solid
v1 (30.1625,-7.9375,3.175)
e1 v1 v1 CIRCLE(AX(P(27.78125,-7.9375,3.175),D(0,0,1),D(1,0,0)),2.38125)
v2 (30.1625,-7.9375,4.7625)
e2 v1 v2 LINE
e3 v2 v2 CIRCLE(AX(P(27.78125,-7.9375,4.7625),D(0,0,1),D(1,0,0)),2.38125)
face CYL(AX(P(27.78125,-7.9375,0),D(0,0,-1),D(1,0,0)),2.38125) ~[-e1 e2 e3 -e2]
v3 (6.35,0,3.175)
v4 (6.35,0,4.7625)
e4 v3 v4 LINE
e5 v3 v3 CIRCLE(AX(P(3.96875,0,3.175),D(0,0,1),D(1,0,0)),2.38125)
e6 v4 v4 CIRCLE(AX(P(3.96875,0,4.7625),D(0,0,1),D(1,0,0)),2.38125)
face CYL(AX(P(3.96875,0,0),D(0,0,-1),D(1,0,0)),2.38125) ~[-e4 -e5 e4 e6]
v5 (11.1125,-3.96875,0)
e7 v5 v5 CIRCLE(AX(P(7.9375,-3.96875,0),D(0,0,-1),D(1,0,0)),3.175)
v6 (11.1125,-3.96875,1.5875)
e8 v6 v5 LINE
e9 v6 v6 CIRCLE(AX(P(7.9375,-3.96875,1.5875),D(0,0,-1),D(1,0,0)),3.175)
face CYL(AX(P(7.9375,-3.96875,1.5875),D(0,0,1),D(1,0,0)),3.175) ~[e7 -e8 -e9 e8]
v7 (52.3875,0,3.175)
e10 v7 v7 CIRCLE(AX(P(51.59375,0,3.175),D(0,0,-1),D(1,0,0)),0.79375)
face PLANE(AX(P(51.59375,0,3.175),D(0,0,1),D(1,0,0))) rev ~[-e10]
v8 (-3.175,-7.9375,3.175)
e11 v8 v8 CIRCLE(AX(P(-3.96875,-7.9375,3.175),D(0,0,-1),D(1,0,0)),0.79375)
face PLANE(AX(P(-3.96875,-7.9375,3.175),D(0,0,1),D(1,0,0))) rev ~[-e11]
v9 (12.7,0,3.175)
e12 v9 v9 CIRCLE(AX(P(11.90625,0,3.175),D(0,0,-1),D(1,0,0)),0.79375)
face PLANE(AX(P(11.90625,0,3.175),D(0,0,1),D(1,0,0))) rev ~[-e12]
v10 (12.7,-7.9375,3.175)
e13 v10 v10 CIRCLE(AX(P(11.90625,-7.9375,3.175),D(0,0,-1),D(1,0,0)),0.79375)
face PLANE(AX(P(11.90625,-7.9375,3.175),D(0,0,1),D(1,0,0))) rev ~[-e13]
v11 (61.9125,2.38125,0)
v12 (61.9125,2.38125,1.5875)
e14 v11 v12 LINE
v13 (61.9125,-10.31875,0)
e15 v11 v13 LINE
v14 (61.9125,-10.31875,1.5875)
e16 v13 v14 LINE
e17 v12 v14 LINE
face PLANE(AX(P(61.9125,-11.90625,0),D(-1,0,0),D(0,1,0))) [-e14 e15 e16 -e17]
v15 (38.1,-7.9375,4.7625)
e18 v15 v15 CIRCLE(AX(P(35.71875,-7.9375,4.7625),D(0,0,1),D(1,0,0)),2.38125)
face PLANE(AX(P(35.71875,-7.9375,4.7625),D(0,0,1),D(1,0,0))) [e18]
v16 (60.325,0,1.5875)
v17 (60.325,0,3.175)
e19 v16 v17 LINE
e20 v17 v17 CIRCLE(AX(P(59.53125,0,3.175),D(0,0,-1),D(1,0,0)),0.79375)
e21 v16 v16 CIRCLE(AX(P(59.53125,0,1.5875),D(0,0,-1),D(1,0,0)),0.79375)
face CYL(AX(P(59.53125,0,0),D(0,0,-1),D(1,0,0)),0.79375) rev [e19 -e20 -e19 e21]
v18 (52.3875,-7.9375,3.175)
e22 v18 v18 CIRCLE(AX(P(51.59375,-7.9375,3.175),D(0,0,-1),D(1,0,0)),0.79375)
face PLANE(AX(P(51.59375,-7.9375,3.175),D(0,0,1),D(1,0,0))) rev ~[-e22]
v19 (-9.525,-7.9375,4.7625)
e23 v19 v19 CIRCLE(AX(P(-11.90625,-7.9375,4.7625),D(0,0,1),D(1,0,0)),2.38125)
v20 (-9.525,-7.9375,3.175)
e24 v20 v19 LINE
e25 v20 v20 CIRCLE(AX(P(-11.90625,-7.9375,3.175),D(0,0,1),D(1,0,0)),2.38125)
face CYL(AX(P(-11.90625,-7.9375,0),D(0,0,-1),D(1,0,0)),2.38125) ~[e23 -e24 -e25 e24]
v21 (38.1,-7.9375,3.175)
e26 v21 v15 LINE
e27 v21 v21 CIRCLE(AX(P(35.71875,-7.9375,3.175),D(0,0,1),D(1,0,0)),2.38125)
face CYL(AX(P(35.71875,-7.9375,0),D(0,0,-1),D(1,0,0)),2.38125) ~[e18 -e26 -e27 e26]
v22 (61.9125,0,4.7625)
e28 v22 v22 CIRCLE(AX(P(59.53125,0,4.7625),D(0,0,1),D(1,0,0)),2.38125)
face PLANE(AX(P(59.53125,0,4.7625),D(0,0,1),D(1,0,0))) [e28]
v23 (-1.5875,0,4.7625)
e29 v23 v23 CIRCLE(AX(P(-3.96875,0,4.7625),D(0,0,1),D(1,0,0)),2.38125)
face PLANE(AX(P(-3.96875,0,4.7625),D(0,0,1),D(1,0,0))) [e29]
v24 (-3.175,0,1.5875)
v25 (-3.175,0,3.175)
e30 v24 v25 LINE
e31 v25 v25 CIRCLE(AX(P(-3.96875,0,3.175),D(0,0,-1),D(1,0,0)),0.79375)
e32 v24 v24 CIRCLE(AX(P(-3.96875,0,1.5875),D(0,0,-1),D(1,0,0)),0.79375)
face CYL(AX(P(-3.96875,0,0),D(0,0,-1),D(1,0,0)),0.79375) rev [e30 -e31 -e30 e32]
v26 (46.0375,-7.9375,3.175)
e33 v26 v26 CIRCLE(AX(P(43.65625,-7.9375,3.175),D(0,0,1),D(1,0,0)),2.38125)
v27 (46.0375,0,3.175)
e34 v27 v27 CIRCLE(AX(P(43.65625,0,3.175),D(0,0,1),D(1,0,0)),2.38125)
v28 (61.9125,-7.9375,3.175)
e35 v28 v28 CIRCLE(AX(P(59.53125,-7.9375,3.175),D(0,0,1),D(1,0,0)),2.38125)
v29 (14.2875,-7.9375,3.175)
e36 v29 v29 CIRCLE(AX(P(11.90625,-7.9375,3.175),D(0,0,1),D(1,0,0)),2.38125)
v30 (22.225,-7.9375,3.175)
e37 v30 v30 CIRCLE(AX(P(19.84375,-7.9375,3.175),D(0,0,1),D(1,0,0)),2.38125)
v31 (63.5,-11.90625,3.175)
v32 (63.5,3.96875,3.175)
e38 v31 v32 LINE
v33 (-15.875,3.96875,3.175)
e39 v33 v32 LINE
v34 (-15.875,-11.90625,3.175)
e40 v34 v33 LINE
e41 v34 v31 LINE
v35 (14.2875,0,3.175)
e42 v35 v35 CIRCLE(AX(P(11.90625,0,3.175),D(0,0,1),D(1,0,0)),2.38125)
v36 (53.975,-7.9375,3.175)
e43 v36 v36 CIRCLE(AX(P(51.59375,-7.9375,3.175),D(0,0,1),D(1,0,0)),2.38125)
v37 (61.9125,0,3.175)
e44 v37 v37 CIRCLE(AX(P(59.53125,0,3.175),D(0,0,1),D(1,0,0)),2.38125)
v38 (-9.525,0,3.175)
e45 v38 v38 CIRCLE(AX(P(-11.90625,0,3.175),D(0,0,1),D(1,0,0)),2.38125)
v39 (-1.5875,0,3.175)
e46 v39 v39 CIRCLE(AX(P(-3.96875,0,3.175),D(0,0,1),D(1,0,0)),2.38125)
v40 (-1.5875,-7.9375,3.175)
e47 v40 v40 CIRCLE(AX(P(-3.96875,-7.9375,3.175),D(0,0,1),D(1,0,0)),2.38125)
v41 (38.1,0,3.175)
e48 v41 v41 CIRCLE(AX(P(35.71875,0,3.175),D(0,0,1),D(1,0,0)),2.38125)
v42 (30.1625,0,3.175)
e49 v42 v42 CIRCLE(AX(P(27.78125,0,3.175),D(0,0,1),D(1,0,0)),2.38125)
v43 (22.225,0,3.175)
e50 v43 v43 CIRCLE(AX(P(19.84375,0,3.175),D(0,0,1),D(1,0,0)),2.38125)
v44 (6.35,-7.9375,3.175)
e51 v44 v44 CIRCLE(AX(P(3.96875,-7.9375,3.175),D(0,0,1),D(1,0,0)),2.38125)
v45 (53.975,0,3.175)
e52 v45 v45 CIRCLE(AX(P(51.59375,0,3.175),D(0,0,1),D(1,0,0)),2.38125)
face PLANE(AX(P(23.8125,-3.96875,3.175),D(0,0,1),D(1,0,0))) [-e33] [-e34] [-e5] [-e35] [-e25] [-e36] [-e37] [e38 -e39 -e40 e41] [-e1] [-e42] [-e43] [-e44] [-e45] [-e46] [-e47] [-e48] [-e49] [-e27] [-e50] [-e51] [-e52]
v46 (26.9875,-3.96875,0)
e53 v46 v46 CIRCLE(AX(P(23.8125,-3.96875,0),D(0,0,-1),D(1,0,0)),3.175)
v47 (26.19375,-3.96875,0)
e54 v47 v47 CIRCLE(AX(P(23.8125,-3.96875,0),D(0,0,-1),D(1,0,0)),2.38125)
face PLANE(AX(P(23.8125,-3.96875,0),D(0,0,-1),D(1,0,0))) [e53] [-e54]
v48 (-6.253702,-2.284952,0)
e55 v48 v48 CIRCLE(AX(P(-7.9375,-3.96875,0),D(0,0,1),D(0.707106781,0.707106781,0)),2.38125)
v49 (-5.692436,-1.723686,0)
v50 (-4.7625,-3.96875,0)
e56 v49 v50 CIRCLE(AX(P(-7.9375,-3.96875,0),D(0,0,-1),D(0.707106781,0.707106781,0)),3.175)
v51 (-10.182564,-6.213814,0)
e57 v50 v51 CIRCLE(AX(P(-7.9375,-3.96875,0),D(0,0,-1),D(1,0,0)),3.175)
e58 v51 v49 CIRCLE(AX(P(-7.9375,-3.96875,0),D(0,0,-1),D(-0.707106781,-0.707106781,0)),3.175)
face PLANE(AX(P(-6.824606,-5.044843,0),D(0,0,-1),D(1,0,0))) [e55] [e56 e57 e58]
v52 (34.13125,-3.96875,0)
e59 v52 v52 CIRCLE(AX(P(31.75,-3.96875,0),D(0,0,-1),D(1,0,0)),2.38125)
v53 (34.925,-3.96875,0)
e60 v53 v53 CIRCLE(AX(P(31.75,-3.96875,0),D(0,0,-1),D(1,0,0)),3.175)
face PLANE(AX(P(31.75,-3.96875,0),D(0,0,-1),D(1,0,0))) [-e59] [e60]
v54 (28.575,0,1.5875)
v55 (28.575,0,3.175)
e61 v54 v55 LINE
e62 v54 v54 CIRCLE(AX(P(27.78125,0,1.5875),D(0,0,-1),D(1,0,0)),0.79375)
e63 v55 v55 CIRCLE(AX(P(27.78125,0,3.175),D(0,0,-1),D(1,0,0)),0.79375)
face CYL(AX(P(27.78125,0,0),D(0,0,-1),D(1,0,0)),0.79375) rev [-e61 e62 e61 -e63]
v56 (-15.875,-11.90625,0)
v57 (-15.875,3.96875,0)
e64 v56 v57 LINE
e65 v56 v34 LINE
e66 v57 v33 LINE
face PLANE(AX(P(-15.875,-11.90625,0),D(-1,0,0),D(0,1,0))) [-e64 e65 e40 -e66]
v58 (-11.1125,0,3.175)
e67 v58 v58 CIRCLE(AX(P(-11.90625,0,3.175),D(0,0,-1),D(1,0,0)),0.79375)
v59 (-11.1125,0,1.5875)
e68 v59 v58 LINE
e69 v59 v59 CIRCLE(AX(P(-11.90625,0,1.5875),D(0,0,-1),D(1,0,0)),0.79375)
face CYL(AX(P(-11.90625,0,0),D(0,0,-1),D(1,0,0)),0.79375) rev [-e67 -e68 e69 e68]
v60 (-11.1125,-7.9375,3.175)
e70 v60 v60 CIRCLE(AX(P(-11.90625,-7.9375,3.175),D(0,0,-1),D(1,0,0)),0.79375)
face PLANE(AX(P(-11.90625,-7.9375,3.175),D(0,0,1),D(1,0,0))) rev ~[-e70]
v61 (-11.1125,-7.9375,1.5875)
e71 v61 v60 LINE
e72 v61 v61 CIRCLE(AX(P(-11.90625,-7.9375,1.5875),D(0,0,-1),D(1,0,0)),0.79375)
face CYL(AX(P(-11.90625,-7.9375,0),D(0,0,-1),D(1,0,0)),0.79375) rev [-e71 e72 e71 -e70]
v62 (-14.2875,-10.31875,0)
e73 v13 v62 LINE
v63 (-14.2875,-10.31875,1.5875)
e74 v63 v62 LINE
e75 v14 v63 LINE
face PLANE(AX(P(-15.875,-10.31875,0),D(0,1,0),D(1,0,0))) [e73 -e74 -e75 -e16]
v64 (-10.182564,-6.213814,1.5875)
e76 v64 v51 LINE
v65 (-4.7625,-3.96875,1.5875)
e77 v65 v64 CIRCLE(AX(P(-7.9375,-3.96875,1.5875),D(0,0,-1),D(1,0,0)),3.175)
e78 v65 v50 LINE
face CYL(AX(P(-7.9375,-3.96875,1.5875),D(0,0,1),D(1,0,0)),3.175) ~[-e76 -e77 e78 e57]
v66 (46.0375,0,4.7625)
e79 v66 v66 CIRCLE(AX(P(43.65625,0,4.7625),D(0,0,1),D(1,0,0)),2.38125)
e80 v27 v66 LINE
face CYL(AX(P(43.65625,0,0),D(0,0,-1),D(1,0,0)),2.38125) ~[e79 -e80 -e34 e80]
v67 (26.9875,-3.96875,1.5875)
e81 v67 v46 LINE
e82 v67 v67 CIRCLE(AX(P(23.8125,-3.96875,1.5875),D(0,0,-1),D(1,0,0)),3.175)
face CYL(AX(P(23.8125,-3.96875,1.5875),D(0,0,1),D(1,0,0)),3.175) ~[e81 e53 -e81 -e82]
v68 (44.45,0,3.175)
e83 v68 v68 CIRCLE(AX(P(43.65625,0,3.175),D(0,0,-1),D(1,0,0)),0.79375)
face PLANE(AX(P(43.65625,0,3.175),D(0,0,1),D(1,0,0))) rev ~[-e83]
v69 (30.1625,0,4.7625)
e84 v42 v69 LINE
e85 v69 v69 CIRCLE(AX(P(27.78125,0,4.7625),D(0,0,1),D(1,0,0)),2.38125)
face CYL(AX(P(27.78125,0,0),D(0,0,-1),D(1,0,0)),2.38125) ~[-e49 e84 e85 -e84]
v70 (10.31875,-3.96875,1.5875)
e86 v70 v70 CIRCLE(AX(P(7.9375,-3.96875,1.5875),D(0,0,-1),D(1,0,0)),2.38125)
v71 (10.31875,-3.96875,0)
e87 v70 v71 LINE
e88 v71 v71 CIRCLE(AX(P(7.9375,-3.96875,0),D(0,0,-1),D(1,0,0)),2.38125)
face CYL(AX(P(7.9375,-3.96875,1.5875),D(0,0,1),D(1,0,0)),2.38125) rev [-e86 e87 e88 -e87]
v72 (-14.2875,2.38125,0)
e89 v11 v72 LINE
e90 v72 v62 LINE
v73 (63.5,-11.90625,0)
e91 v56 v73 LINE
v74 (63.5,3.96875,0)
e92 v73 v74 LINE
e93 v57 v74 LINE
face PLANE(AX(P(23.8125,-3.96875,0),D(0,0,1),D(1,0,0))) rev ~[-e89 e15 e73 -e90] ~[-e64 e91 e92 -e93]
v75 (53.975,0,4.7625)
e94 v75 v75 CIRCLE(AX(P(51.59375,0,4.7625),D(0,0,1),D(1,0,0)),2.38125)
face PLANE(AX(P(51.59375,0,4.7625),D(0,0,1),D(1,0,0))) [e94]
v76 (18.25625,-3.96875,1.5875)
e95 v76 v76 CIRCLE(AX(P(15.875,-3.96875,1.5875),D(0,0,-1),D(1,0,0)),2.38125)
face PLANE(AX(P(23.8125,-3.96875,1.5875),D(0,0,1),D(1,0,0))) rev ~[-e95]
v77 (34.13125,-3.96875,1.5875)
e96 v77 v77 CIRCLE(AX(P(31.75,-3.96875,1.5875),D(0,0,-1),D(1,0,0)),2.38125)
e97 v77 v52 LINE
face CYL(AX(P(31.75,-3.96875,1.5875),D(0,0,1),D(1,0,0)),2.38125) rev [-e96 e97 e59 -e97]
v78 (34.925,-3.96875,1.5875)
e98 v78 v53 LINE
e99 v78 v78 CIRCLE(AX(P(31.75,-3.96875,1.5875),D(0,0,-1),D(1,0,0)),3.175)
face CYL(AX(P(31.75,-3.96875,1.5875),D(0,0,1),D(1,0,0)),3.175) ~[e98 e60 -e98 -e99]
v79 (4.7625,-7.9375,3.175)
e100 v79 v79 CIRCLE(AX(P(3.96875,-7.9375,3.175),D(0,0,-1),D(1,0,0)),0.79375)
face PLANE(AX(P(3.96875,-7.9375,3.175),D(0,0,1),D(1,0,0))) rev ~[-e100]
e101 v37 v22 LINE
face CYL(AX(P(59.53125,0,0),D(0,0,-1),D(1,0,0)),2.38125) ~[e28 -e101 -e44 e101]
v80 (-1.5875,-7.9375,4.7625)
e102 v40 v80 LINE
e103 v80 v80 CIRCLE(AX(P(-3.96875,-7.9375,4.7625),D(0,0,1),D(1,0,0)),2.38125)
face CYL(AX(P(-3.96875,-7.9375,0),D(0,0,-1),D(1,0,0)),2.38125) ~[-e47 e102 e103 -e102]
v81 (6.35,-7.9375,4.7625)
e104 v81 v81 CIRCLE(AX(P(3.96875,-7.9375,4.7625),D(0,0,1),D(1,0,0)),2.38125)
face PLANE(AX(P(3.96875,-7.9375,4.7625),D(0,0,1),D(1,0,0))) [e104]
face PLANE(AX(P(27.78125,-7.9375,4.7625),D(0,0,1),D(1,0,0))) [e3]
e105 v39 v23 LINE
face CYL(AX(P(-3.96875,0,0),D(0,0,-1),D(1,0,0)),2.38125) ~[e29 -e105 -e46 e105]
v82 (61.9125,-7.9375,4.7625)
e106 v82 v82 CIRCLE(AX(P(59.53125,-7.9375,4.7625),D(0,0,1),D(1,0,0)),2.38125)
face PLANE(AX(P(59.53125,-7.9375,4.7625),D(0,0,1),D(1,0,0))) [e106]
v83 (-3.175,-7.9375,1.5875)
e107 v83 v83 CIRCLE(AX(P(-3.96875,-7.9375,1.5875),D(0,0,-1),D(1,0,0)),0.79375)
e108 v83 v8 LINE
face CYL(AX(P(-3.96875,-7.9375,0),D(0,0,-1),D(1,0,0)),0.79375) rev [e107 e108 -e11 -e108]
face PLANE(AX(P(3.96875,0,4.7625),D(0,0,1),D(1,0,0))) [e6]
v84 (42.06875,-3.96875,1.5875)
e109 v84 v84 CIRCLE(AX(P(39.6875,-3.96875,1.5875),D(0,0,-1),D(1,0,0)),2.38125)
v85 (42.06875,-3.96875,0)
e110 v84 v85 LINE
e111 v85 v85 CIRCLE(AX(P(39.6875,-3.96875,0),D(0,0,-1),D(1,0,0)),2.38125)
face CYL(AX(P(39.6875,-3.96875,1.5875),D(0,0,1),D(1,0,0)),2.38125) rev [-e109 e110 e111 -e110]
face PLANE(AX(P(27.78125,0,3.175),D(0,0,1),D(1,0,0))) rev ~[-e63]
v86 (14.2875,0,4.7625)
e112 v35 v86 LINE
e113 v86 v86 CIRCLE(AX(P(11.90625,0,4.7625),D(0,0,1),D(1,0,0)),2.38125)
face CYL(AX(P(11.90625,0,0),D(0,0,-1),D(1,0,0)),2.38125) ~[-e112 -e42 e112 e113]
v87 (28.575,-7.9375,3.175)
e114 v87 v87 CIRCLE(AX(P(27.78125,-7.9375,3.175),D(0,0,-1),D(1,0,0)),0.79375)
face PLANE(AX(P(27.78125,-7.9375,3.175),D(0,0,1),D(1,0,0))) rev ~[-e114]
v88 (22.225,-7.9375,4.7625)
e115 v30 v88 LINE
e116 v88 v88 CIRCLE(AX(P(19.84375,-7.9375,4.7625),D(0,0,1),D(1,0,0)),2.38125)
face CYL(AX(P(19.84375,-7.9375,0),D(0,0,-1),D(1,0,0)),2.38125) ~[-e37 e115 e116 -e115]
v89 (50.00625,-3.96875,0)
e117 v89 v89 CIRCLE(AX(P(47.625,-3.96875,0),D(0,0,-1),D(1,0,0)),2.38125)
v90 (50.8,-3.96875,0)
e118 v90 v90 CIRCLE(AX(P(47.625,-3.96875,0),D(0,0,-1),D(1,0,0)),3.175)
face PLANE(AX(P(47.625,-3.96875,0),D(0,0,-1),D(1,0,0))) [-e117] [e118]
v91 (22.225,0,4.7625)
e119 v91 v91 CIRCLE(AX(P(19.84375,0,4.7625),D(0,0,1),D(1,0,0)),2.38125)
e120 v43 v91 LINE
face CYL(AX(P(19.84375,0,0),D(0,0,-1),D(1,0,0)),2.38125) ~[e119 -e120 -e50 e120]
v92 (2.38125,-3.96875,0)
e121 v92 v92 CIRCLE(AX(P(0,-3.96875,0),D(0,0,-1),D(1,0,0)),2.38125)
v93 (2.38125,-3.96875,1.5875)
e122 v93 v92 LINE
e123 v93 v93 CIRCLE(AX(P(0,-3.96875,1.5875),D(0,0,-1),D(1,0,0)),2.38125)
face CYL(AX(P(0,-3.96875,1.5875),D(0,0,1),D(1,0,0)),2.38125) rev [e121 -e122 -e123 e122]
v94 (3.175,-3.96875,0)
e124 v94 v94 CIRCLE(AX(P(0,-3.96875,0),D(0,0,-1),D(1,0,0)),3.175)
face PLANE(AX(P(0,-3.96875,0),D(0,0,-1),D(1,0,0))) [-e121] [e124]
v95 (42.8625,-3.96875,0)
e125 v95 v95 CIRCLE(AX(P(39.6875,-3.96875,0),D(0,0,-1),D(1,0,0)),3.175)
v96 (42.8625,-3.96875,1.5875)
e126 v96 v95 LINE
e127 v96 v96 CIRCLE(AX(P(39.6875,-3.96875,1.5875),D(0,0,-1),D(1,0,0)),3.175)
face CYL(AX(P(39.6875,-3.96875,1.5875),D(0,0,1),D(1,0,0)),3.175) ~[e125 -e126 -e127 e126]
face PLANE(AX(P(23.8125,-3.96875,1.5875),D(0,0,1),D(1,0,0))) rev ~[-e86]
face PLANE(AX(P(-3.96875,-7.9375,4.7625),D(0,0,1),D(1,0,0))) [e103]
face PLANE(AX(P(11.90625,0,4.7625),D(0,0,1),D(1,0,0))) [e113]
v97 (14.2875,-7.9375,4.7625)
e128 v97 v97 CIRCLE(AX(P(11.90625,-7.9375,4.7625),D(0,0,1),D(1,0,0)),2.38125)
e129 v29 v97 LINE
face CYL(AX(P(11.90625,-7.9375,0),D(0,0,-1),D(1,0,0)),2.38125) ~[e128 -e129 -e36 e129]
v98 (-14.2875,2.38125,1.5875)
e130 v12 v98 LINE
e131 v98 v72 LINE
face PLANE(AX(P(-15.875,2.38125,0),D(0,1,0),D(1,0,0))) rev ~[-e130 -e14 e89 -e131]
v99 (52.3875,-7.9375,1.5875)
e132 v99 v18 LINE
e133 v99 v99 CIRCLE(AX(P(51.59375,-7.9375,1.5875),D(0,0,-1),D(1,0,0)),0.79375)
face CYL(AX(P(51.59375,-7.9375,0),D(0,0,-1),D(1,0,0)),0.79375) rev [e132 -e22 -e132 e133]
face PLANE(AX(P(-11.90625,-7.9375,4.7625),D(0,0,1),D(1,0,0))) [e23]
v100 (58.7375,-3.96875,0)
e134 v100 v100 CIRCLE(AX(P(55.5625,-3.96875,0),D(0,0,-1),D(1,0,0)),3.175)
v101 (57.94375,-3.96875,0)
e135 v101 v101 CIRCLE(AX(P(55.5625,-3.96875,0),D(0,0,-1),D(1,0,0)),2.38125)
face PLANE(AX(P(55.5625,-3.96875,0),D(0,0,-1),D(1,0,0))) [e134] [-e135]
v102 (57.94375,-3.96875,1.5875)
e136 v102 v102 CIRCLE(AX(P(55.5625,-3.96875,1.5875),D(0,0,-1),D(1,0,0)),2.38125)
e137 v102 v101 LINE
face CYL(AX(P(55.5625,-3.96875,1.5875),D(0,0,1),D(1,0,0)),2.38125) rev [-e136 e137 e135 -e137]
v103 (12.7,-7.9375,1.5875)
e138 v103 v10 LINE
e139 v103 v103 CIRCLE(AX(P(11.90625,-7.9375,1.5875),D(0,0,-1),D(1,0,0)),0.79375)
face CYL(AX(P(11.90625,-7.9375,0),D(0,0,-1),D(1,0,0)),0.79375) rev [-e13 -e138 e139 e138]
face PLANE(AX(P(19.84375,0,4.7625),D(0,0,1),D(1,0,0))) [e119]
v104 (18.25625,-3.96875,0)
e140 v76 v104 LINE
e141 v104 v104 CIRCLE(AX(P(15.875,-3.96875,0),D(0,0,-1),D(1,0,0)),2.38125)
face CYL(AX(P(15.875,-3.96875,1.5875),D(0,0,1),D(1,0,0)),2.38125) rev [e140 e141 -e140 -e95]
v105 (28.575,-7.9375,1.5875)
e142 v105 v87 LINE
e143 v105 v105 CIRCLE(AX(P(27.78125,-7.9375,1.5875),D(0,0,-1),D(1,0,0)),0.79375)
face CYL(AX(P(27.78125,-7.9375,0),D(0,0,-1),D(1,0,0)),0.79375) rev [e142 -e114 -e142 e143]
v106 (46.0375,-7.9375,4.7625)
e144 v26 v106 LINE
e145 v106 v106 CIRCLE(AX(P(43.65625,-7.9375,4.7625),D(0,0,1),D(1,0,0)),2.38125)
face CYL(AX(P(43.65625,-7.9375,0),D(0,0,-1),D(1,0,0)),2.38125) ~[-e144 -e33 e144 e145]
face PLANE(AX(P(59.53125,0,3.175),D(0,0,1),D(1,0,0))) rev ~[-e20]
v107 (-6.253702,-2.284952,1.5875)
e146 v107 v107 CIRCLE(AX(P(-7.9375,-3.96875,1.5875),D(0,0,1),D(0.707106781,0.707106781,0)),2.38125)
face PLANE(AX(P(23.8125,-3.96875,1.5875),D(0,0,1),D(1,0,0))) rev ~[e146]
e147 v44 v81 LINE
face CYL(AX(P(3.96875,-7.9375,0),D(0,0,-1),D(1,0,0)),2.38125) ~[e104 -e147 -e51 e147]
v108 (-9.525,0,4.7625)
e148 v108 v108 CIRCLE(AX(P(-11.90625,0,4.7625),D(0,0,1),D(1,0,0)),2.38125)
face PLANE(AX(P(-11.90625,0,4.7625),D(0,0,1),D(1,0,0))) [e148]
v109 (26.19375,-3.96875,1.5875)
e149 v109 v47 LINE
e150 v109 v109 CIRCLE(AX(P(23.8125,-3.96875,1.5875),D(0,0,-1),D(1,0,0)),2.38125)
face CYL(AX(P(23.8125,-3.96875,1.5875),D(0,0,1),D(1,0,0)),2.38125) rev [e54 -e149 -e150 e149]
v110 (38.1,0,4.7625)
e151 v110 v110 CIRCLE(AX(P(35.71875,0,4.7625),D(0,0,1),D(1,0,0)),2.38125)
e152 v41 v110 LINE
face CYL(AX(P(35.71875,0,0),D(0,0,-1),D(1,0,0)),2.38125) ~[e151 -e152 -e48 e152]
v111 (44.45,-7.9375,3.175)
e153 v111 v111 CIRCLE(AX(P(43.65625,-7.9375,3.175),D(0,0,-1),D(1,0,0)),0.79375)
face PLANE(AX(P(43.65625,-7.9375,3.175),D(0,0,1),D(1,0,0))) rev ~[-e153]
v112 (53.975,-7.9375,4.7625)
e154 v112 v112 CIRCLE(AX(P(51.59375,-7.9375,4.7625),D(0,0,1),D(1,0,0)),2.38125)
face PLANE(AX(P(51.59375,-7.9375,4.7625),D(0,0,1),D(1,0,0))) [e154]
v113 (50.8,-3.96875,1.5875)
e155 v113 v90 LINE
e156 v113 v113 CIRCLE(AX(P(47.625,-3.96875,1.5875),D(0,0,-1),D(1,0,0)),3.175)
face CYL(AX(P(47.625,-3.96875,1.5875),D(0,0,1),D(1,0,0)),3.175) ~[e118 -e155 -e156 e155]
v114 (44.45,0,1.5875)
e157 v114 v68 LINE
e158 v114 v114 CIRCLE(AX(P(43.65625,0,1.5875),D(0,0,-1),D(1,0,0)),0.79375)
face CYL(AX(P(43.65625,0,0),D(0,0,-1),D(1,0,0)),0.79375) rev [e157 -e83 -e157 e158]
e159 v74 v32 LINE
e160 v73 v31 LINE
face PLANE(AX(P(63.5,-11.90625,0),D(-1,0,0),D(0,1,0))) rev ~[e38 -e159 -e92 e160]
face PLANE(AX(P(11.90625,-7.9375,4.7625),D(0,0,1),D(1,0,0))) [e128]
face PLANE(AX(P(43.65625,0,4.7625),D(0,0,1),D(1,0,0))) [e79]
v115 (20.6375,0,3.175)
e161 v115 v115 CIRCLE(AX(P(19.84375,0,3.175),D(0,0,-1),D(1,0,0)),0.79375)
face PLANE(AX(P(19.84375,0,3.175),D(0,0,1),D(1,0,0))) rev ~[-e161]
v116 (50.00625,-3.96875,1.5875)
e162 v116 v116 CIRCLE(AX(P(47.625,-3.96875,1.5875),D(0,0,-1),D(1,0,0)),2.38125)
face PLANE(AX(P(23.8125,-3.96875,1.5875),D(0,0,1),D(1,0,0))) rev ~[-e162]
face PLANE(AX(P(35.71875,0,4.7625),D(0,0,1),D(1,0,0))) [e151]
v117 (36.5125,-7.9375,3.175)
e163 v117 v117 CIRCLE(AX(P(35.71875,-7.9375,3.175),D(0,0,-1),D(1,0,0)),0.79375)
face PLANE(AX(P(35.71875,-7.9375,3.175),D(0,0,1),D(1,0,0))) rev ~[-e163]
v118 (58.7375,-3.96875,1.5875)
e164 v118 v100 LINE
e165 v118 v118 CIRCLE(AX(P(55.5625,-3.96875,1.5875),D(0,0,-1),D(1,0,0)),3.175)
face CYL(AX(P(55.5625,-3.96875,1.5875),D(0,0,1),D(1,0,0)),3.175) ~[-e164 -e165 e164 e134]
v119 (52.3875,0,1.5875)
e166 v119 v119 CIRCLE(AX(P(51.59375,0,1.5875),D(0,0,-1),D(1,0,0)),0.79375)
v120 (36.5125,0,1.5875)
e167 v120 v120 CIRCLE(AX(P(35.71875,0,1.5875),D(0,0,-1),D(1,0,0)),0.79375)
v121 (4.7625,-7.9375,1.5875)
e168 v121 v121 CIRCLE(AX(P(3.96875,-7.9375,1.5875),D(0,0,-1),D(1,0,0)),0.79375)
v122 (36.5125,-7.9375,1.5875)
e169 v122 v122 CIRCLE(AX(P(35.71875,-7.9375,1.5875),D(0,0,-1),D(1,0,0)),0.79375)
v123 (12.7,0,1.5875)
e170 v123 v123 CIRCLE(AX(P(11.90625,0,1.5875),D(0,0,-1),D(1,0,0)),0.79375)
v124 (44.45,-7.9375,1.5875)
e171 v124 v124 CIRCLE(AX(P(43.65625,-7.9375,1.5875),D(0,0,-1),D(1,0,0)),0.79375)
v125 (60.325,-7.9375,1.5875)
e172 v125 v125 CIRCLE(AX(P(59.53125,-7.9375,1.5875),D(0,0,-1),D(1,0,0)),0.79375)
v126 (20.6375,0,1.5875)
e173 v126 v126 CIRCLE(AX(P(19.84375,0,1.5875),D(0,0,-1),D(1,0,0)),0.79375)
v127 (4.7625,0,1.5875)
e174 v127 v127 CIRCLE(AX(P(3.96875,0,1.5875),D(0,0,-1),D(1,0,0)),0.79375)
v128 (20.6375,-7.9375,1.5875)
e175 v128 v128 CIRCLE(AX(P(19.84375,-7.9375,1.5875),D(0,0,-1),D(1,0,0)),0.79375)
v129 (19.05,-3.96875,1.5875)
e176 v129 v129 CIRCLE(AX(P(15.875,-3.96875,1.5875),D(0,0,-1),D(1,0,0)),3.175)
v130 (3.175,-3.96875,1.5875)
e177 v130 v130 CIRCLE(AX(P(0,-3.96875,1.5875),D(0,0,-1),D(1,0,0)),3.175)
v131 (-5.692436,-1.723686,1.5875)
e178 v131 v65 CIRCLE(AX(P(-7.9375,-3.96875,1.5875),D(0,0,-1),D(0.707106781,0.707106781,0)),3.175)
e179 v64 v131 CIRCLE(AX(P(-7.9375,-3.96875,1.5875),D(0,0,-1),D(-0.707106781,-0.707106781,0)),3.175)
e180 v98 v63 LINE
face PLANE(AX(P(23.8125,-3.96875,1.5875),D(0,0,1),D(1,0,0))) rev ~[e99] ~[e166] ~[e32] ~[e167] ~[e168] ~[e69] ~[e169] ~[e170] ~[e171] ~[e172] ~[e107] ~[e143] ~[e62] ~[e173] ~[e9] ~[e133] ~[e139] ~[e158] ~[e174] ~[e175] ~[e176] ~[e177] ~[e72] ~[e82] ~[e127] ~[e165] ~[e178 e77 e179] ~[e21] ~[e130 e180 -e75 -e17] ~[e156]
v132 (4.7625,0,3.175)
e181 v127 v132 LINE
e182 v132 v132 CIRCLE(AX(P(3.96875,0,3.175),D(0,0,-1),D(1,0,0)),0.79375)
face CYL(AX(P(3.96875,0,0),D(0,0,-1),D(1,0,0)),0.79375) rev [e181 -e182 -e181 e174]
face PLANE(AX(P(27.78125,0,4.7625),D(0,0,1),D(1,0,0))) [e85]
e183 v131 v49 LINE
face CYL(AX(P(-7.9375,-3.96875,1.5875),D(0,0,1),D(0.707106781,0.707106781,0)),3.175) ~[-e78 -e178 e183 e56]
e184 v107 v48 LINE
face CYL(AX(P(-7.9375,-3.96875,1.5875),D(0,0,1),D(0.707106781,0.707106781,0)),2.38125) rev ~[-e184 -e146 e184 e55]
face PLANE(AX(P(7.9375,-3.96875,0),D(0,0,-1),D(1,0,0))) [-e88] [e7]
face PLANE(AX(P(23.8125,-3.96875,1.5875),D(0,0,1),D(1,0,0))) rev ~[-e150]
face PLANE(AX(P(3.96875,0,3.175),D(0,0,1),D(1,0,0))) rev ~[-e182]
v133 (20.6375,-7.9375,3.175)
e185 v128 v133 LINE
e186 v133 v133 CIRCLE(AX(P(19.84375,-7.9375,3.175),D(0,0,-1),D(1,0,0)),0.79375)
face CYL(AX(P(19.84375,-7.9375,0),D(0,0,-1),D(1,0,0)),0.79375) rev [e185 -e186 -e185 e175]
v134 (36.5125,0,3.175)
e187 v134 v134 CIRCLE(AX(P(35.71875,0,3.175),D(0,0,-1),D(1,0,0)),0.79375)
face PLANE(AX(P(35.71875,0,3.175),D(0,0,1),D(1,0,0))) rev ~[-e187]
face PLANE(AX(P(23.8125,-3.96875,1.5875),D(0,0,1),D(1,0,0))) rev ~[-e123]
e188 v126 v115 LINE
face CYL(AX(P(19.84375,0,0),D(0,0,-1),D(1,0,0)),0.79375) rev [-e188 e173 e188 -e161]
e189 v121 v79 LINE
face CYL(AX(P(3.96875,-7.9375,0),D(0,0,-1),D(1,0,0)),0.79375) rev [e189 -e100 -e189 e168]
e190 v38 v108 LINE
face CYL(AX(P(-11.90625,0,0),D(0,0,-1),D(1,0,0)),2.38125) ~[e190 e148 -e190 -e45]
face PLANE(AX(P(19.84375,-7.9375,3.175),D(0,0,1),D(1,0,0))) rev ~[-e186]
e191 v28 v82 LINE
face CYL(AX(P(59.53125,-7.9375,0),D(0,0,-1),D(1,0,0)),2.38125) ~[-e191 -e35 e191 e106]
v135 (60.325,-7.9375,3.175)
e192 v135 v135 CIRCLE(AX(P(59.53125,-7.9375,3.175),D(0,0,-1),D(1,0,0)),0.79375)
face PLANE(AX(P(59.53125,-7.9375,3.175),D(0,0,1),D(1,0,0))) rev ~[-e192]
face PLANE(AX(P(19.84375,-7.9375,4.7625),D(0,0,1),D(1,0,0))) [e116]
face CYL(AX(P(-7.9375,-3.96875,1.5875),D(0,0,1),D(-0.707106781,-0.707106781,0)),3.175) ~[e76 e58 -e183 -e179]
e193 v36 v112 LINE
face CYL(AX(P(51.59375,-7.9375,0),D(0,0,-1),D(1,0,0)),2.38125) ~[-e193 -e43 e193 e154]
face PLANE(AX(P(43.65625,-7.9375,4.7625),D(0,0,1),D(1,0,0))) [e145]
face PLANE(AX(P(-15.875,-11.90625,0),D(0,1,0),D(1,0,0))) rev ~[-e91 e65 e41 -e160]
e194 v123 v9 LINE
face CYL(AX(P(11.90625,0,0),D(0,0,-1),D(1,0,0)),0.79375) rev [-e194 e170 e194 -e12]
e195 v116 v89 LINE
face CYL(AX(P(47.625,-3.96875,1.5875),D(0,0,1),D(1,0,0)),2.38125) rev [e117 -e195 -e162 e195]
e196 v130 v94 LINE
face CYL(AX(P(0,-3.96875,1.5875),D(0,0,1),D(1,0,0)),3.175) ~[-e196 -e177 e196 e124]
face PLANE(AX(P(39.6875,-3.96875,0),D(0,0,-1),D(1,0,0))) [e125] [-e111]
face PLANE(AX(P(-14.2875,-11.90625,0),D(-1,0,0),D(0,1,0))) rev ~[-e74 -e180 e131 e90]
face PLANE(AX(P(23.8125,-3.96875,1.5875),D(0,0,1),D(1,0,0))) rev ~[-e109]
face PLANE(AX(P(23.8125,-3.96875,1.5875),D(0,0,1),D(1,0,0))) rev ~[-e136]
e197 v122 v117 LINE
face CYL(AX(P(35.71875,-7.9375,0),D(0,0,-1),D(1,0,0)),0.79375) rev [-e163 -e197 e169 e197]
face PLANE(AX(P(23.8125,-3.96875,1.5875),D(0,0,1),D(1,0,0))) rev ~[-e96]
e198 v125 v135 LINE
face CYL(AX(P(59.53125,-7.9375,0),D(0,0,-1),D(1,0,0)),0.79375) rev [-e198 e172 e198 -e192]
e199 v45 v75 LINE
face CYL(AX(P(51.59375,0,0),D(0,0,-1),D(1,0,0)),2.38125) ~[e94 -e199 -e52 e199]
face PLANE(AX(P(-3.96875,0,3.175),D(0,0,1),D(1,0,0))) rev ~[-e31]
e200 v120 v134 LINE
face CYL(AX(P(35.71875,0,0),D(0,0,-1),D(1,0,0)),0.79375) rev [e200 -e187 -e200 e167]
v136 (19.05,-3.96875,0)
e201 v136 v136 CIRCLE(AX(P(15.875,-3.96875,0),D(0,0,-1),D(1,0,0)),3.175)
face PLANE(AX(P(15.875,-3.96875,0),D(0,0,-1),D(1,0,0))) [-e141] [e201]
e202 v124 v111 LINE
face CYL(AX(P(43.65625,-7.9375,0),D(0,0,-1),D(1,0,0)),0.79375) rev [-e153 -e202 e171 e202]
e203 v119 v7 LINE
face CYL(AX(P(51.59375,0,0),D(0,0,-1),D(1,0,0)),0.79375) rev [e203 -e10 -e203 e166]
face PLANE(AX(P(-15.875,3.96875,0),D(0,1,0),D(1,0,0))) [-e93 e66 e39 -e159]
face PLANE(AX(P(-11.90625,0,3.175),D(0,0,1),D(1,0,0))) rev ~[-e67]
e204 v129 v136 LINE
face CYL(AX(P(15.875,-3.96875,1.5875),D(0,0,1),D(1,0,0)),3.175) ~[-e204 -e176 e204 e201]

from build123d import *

# Parameters (mm, degrees)
F0_W     = 79.375
F0_H     = 15.875
F0_R     = 2.38125
F1_DEPTH = 3.175
F2_DEPTH = 4.7625
F3_T     = -1.5875
F4_R     = 3.175
F4_R_2   = 2.38125
F5_DEPTH = 1.5875


with BuildPart() as f1:
    # F0 (on Top) → F1 (new body)
    with BuildSketch(Plane.XY):
        with Locations((23.8125, -3.96875)):
            Rectangle(F0_W, F0_H)
        with Locations((-11.90625, -7.9375)):
            Circle(F0_R, mode=Mode.SUBTRACT)
        with Locations((-3.96875, -7.9375)):
            Circle(F0_R, mode=Mode.SUBTRACT)
        with Locations((3.96875, -7.9375)):
            Circle(F0_R, mode=Mode.SUBTRACT)
        with Locations((11.90625, -7.9375)):
            Circle(F0_R, mode=Mode.SUBTRACT)
        with Locations((19.84375, -7.9375)):
            Circle(F0_R, mode=Mode.SUBTRACT)
        with Locations((27.78125, -7.9375)):
            Circle(F0_R, mode=Mode.SUBTRACT)
        with Locations((35.71875, -7.9375)):
            Circle(F0_R, mode=Mode.SUBTRACT)
        with Locations((43.65625, -7.9375)):
            Circle(F0_R, mode=Mode.SUBTRACT)
        with Locations((51.59375, -7.9375)):
            Circle(F0_R, mode=Mode.SUBTRACT)
        with Locations((59.53125, -7.9375)):
            Circle(F0_R, mode=Mode.SUBTRACT)
        with Locations((-11.90625, 0)):
            Circle(F0_R, mode=Mode.SUBTRACT)
        with Locations((-3.96875, 0)):
            Circle(F0_R, mode=Mode.SUBTRACT)
        with Locations((3.96875, 0)):
            Circle(F0_R, mode=Mode.SUBTRACT)
        with Locations((11.90625, 0)):
            Circle(F0_R, mode=Mode.SUBTRACT)
        with Locations((19.84375, 0)):
            Circle(F0_R, mode=Mode.SUBTRACT)
        with Locations((27.78125, 0)):
            Circle(F0_R, mode=Mode.SUBTRACT)
        with Locations((35.71875, 0)):
            Circle(F0_R, mode=Mode.SUBTRACT)
        with Locations((43.65625, 0)):
            Circle(F0_R, mode=Mode.SUBTRACT)
        with Locations((51.59375, 0)):
            Circle(F0_R, mode=Mode.SUBTRACT)
        with Locations((59.53125, 0)):
            Circle(F0_R, mode=Mode.SUBTRACT)
    extrude(amount=F1_DEPTH)

    # F0 (on Top) → F2 (join)
    with BuildSketch(Plane.XY):
        with Locations((-11.90625, 0)):
            Circle(F0_R)
        with Locations((-11.90625, -7.9375)):
            Circle(F0_R)
        with Locations((-3.96875, -7.9375)):
            Circle(F0_R)
        with Locations((-3.96875, 0)):
            Circle(F0_R)
        with Locations((3.96875, 0)):
            Circle(F0_R)
        with Locations((3.96875, -7.9375)):
            Circle(F0_R)
        with Locations((11.90625, -7.9375)):
            Circle(F0_R)
        with Locations((11.90625, 0)):
            Circle(F0_R)
        with Locations((19.84375, 0)):
            Circle(F0_R)
        with Locations((27.78125, 0)):
            Circle(F0_R)
        with Locations((27.78125, -7.9375)):
            Circle(F0_R)
        with Locations((19.84375, -7.9375)):
            Circle(F0_R)
        with Locations((35.71875, 0)):
            Circle(F0_R)
        with Locations((43.65625, 0)):
            Circle(F0_R)
        with Locations((43.65625, -7.9375)):
            Circle(F0_R)
        with Locations((35.71875, -7.9375)):
            Circle(F0_R)
        with Locations((51.59375, 0)):
            Circle(F0_R)
        with Locations((59.53125, 0)):
            Circle(F0_R)
        with Locations((59.53125, -7.9375)):
            Circle(F0_R)
        with Locations((51.59375, -7.9375)):
            Circle(F0_R)
    extrude(amount=F2_DEPTH)

    # F3
    f3_openings = [f1.faces().sort_by_distance(p)[0] for p in [
        (23.8125, -3.96875, 0),
    ]]
    offset(amount=F3_T, openings=f3_openings, kind=Kind.INTERSECTION)

    # F4 (on face) → F5 (join)
    with BuildSketch(Plane(origin=(0, 0, 1.5875), x_dir=(1, 0, 0), z_dir=(0, 0, -1))):
        with BuildLine():
            ThreePointArc((-4.7625, 3.96875), (-6.7224801022, 6.9020675157), (-10.1825640303, 6.2138140303))
            Line((-10.1825640303, 6.2138140303), (-9.6212980227, 5.6525480227))
            ThreePointArc((-9.6212980227, 5.6525480227), (-7.0262350767, 6.1687381368), (-5.55625, 3.96875))
            ThreePointArc((-5.55625, 3.96875), (-5.7375118632, 3.0574850767), (-6.2537019773, 2.2849519773))
            Line((-6.2537019773, 2.2849519773), (-5.6924359697, 1.7236859697))
            ThreePointArc((-5.6924359697, 1.7236859697), (-5.0041824843, 2.7537301022), (-4.7625, 3.96875))
        make_face()
        with BuildLine():
            Line((-9.6212980227, 5.6525480227), (-10.1825640303, 6.2138140303))
            ThreePointArc((-10.1825640303, 6.2138140303), (-10.1825640303, 1.7236859697), (-5.6924359697, 1.7236859697))
            Line((-5.6924359697, 1.7236859697), (-6.2537019773, 2.2849519773))
            ThreePointArc((-6.2537019773, 2.2849519773), (-9.6212980227, 2.2849519773), (-9.6212980227, 5.6525480227))
        make_face()
        with Locations((0, 3.96875)):
            Circle(F4_R)
        with Locations((0, 3.96875)):
            Circle(F4_R_2, mode=Mode.SUBTRACT)
        with Locations((7.9375, 3.96875)):
            Circle(F4_R)
        with Locations((7.9375, 3.96875)):
            Circle(F4_R_2, mode=Mode.SUBTRACT)
        with Locations((15.875, 3.96875)):
            Circle(F4_R)
        with Locations((15.875, 3.96875)):
            Circle(F4_R_2, mode=Mode.SUBTRACT)
        with Locations((23.8125, 3.96875)):
            Circle(F4_R)
        with Locations((23.8125, 3.96875)):
            Circle(F4_R_2, mode=Mode.SUBTRACT)
        with Locations((31.75, 3.96875)):
            Circle(F4_R)
        with Locations((31.75, 3.96875)):
            Circle(F4_R_2, mode=Mode.SUBTRACT)
        with Locations((39.6875, 3.96875)):
            Circle(F4_R)
        with Locations((39.6875, 3.96875)):
            Circle(F4_R_2, mode=Mode.SUBTRACT)
        with Locations((47.625, 3.96875)):
            Circle(F4_R)
        with Locations((47.625, 3.96875)):
            Circle(F4_R_2, mode=Mode.SUBTRACT)
        with Locations((55.5625, 3.96875)):
            Circle(F4_R)
        with Locations((55.5625, 3.96875)):
            Circle(F4_R_2, mode=Mode.SUBTRACT)
    extrude(amount=F5_DEPTH)


solid = f1.part
